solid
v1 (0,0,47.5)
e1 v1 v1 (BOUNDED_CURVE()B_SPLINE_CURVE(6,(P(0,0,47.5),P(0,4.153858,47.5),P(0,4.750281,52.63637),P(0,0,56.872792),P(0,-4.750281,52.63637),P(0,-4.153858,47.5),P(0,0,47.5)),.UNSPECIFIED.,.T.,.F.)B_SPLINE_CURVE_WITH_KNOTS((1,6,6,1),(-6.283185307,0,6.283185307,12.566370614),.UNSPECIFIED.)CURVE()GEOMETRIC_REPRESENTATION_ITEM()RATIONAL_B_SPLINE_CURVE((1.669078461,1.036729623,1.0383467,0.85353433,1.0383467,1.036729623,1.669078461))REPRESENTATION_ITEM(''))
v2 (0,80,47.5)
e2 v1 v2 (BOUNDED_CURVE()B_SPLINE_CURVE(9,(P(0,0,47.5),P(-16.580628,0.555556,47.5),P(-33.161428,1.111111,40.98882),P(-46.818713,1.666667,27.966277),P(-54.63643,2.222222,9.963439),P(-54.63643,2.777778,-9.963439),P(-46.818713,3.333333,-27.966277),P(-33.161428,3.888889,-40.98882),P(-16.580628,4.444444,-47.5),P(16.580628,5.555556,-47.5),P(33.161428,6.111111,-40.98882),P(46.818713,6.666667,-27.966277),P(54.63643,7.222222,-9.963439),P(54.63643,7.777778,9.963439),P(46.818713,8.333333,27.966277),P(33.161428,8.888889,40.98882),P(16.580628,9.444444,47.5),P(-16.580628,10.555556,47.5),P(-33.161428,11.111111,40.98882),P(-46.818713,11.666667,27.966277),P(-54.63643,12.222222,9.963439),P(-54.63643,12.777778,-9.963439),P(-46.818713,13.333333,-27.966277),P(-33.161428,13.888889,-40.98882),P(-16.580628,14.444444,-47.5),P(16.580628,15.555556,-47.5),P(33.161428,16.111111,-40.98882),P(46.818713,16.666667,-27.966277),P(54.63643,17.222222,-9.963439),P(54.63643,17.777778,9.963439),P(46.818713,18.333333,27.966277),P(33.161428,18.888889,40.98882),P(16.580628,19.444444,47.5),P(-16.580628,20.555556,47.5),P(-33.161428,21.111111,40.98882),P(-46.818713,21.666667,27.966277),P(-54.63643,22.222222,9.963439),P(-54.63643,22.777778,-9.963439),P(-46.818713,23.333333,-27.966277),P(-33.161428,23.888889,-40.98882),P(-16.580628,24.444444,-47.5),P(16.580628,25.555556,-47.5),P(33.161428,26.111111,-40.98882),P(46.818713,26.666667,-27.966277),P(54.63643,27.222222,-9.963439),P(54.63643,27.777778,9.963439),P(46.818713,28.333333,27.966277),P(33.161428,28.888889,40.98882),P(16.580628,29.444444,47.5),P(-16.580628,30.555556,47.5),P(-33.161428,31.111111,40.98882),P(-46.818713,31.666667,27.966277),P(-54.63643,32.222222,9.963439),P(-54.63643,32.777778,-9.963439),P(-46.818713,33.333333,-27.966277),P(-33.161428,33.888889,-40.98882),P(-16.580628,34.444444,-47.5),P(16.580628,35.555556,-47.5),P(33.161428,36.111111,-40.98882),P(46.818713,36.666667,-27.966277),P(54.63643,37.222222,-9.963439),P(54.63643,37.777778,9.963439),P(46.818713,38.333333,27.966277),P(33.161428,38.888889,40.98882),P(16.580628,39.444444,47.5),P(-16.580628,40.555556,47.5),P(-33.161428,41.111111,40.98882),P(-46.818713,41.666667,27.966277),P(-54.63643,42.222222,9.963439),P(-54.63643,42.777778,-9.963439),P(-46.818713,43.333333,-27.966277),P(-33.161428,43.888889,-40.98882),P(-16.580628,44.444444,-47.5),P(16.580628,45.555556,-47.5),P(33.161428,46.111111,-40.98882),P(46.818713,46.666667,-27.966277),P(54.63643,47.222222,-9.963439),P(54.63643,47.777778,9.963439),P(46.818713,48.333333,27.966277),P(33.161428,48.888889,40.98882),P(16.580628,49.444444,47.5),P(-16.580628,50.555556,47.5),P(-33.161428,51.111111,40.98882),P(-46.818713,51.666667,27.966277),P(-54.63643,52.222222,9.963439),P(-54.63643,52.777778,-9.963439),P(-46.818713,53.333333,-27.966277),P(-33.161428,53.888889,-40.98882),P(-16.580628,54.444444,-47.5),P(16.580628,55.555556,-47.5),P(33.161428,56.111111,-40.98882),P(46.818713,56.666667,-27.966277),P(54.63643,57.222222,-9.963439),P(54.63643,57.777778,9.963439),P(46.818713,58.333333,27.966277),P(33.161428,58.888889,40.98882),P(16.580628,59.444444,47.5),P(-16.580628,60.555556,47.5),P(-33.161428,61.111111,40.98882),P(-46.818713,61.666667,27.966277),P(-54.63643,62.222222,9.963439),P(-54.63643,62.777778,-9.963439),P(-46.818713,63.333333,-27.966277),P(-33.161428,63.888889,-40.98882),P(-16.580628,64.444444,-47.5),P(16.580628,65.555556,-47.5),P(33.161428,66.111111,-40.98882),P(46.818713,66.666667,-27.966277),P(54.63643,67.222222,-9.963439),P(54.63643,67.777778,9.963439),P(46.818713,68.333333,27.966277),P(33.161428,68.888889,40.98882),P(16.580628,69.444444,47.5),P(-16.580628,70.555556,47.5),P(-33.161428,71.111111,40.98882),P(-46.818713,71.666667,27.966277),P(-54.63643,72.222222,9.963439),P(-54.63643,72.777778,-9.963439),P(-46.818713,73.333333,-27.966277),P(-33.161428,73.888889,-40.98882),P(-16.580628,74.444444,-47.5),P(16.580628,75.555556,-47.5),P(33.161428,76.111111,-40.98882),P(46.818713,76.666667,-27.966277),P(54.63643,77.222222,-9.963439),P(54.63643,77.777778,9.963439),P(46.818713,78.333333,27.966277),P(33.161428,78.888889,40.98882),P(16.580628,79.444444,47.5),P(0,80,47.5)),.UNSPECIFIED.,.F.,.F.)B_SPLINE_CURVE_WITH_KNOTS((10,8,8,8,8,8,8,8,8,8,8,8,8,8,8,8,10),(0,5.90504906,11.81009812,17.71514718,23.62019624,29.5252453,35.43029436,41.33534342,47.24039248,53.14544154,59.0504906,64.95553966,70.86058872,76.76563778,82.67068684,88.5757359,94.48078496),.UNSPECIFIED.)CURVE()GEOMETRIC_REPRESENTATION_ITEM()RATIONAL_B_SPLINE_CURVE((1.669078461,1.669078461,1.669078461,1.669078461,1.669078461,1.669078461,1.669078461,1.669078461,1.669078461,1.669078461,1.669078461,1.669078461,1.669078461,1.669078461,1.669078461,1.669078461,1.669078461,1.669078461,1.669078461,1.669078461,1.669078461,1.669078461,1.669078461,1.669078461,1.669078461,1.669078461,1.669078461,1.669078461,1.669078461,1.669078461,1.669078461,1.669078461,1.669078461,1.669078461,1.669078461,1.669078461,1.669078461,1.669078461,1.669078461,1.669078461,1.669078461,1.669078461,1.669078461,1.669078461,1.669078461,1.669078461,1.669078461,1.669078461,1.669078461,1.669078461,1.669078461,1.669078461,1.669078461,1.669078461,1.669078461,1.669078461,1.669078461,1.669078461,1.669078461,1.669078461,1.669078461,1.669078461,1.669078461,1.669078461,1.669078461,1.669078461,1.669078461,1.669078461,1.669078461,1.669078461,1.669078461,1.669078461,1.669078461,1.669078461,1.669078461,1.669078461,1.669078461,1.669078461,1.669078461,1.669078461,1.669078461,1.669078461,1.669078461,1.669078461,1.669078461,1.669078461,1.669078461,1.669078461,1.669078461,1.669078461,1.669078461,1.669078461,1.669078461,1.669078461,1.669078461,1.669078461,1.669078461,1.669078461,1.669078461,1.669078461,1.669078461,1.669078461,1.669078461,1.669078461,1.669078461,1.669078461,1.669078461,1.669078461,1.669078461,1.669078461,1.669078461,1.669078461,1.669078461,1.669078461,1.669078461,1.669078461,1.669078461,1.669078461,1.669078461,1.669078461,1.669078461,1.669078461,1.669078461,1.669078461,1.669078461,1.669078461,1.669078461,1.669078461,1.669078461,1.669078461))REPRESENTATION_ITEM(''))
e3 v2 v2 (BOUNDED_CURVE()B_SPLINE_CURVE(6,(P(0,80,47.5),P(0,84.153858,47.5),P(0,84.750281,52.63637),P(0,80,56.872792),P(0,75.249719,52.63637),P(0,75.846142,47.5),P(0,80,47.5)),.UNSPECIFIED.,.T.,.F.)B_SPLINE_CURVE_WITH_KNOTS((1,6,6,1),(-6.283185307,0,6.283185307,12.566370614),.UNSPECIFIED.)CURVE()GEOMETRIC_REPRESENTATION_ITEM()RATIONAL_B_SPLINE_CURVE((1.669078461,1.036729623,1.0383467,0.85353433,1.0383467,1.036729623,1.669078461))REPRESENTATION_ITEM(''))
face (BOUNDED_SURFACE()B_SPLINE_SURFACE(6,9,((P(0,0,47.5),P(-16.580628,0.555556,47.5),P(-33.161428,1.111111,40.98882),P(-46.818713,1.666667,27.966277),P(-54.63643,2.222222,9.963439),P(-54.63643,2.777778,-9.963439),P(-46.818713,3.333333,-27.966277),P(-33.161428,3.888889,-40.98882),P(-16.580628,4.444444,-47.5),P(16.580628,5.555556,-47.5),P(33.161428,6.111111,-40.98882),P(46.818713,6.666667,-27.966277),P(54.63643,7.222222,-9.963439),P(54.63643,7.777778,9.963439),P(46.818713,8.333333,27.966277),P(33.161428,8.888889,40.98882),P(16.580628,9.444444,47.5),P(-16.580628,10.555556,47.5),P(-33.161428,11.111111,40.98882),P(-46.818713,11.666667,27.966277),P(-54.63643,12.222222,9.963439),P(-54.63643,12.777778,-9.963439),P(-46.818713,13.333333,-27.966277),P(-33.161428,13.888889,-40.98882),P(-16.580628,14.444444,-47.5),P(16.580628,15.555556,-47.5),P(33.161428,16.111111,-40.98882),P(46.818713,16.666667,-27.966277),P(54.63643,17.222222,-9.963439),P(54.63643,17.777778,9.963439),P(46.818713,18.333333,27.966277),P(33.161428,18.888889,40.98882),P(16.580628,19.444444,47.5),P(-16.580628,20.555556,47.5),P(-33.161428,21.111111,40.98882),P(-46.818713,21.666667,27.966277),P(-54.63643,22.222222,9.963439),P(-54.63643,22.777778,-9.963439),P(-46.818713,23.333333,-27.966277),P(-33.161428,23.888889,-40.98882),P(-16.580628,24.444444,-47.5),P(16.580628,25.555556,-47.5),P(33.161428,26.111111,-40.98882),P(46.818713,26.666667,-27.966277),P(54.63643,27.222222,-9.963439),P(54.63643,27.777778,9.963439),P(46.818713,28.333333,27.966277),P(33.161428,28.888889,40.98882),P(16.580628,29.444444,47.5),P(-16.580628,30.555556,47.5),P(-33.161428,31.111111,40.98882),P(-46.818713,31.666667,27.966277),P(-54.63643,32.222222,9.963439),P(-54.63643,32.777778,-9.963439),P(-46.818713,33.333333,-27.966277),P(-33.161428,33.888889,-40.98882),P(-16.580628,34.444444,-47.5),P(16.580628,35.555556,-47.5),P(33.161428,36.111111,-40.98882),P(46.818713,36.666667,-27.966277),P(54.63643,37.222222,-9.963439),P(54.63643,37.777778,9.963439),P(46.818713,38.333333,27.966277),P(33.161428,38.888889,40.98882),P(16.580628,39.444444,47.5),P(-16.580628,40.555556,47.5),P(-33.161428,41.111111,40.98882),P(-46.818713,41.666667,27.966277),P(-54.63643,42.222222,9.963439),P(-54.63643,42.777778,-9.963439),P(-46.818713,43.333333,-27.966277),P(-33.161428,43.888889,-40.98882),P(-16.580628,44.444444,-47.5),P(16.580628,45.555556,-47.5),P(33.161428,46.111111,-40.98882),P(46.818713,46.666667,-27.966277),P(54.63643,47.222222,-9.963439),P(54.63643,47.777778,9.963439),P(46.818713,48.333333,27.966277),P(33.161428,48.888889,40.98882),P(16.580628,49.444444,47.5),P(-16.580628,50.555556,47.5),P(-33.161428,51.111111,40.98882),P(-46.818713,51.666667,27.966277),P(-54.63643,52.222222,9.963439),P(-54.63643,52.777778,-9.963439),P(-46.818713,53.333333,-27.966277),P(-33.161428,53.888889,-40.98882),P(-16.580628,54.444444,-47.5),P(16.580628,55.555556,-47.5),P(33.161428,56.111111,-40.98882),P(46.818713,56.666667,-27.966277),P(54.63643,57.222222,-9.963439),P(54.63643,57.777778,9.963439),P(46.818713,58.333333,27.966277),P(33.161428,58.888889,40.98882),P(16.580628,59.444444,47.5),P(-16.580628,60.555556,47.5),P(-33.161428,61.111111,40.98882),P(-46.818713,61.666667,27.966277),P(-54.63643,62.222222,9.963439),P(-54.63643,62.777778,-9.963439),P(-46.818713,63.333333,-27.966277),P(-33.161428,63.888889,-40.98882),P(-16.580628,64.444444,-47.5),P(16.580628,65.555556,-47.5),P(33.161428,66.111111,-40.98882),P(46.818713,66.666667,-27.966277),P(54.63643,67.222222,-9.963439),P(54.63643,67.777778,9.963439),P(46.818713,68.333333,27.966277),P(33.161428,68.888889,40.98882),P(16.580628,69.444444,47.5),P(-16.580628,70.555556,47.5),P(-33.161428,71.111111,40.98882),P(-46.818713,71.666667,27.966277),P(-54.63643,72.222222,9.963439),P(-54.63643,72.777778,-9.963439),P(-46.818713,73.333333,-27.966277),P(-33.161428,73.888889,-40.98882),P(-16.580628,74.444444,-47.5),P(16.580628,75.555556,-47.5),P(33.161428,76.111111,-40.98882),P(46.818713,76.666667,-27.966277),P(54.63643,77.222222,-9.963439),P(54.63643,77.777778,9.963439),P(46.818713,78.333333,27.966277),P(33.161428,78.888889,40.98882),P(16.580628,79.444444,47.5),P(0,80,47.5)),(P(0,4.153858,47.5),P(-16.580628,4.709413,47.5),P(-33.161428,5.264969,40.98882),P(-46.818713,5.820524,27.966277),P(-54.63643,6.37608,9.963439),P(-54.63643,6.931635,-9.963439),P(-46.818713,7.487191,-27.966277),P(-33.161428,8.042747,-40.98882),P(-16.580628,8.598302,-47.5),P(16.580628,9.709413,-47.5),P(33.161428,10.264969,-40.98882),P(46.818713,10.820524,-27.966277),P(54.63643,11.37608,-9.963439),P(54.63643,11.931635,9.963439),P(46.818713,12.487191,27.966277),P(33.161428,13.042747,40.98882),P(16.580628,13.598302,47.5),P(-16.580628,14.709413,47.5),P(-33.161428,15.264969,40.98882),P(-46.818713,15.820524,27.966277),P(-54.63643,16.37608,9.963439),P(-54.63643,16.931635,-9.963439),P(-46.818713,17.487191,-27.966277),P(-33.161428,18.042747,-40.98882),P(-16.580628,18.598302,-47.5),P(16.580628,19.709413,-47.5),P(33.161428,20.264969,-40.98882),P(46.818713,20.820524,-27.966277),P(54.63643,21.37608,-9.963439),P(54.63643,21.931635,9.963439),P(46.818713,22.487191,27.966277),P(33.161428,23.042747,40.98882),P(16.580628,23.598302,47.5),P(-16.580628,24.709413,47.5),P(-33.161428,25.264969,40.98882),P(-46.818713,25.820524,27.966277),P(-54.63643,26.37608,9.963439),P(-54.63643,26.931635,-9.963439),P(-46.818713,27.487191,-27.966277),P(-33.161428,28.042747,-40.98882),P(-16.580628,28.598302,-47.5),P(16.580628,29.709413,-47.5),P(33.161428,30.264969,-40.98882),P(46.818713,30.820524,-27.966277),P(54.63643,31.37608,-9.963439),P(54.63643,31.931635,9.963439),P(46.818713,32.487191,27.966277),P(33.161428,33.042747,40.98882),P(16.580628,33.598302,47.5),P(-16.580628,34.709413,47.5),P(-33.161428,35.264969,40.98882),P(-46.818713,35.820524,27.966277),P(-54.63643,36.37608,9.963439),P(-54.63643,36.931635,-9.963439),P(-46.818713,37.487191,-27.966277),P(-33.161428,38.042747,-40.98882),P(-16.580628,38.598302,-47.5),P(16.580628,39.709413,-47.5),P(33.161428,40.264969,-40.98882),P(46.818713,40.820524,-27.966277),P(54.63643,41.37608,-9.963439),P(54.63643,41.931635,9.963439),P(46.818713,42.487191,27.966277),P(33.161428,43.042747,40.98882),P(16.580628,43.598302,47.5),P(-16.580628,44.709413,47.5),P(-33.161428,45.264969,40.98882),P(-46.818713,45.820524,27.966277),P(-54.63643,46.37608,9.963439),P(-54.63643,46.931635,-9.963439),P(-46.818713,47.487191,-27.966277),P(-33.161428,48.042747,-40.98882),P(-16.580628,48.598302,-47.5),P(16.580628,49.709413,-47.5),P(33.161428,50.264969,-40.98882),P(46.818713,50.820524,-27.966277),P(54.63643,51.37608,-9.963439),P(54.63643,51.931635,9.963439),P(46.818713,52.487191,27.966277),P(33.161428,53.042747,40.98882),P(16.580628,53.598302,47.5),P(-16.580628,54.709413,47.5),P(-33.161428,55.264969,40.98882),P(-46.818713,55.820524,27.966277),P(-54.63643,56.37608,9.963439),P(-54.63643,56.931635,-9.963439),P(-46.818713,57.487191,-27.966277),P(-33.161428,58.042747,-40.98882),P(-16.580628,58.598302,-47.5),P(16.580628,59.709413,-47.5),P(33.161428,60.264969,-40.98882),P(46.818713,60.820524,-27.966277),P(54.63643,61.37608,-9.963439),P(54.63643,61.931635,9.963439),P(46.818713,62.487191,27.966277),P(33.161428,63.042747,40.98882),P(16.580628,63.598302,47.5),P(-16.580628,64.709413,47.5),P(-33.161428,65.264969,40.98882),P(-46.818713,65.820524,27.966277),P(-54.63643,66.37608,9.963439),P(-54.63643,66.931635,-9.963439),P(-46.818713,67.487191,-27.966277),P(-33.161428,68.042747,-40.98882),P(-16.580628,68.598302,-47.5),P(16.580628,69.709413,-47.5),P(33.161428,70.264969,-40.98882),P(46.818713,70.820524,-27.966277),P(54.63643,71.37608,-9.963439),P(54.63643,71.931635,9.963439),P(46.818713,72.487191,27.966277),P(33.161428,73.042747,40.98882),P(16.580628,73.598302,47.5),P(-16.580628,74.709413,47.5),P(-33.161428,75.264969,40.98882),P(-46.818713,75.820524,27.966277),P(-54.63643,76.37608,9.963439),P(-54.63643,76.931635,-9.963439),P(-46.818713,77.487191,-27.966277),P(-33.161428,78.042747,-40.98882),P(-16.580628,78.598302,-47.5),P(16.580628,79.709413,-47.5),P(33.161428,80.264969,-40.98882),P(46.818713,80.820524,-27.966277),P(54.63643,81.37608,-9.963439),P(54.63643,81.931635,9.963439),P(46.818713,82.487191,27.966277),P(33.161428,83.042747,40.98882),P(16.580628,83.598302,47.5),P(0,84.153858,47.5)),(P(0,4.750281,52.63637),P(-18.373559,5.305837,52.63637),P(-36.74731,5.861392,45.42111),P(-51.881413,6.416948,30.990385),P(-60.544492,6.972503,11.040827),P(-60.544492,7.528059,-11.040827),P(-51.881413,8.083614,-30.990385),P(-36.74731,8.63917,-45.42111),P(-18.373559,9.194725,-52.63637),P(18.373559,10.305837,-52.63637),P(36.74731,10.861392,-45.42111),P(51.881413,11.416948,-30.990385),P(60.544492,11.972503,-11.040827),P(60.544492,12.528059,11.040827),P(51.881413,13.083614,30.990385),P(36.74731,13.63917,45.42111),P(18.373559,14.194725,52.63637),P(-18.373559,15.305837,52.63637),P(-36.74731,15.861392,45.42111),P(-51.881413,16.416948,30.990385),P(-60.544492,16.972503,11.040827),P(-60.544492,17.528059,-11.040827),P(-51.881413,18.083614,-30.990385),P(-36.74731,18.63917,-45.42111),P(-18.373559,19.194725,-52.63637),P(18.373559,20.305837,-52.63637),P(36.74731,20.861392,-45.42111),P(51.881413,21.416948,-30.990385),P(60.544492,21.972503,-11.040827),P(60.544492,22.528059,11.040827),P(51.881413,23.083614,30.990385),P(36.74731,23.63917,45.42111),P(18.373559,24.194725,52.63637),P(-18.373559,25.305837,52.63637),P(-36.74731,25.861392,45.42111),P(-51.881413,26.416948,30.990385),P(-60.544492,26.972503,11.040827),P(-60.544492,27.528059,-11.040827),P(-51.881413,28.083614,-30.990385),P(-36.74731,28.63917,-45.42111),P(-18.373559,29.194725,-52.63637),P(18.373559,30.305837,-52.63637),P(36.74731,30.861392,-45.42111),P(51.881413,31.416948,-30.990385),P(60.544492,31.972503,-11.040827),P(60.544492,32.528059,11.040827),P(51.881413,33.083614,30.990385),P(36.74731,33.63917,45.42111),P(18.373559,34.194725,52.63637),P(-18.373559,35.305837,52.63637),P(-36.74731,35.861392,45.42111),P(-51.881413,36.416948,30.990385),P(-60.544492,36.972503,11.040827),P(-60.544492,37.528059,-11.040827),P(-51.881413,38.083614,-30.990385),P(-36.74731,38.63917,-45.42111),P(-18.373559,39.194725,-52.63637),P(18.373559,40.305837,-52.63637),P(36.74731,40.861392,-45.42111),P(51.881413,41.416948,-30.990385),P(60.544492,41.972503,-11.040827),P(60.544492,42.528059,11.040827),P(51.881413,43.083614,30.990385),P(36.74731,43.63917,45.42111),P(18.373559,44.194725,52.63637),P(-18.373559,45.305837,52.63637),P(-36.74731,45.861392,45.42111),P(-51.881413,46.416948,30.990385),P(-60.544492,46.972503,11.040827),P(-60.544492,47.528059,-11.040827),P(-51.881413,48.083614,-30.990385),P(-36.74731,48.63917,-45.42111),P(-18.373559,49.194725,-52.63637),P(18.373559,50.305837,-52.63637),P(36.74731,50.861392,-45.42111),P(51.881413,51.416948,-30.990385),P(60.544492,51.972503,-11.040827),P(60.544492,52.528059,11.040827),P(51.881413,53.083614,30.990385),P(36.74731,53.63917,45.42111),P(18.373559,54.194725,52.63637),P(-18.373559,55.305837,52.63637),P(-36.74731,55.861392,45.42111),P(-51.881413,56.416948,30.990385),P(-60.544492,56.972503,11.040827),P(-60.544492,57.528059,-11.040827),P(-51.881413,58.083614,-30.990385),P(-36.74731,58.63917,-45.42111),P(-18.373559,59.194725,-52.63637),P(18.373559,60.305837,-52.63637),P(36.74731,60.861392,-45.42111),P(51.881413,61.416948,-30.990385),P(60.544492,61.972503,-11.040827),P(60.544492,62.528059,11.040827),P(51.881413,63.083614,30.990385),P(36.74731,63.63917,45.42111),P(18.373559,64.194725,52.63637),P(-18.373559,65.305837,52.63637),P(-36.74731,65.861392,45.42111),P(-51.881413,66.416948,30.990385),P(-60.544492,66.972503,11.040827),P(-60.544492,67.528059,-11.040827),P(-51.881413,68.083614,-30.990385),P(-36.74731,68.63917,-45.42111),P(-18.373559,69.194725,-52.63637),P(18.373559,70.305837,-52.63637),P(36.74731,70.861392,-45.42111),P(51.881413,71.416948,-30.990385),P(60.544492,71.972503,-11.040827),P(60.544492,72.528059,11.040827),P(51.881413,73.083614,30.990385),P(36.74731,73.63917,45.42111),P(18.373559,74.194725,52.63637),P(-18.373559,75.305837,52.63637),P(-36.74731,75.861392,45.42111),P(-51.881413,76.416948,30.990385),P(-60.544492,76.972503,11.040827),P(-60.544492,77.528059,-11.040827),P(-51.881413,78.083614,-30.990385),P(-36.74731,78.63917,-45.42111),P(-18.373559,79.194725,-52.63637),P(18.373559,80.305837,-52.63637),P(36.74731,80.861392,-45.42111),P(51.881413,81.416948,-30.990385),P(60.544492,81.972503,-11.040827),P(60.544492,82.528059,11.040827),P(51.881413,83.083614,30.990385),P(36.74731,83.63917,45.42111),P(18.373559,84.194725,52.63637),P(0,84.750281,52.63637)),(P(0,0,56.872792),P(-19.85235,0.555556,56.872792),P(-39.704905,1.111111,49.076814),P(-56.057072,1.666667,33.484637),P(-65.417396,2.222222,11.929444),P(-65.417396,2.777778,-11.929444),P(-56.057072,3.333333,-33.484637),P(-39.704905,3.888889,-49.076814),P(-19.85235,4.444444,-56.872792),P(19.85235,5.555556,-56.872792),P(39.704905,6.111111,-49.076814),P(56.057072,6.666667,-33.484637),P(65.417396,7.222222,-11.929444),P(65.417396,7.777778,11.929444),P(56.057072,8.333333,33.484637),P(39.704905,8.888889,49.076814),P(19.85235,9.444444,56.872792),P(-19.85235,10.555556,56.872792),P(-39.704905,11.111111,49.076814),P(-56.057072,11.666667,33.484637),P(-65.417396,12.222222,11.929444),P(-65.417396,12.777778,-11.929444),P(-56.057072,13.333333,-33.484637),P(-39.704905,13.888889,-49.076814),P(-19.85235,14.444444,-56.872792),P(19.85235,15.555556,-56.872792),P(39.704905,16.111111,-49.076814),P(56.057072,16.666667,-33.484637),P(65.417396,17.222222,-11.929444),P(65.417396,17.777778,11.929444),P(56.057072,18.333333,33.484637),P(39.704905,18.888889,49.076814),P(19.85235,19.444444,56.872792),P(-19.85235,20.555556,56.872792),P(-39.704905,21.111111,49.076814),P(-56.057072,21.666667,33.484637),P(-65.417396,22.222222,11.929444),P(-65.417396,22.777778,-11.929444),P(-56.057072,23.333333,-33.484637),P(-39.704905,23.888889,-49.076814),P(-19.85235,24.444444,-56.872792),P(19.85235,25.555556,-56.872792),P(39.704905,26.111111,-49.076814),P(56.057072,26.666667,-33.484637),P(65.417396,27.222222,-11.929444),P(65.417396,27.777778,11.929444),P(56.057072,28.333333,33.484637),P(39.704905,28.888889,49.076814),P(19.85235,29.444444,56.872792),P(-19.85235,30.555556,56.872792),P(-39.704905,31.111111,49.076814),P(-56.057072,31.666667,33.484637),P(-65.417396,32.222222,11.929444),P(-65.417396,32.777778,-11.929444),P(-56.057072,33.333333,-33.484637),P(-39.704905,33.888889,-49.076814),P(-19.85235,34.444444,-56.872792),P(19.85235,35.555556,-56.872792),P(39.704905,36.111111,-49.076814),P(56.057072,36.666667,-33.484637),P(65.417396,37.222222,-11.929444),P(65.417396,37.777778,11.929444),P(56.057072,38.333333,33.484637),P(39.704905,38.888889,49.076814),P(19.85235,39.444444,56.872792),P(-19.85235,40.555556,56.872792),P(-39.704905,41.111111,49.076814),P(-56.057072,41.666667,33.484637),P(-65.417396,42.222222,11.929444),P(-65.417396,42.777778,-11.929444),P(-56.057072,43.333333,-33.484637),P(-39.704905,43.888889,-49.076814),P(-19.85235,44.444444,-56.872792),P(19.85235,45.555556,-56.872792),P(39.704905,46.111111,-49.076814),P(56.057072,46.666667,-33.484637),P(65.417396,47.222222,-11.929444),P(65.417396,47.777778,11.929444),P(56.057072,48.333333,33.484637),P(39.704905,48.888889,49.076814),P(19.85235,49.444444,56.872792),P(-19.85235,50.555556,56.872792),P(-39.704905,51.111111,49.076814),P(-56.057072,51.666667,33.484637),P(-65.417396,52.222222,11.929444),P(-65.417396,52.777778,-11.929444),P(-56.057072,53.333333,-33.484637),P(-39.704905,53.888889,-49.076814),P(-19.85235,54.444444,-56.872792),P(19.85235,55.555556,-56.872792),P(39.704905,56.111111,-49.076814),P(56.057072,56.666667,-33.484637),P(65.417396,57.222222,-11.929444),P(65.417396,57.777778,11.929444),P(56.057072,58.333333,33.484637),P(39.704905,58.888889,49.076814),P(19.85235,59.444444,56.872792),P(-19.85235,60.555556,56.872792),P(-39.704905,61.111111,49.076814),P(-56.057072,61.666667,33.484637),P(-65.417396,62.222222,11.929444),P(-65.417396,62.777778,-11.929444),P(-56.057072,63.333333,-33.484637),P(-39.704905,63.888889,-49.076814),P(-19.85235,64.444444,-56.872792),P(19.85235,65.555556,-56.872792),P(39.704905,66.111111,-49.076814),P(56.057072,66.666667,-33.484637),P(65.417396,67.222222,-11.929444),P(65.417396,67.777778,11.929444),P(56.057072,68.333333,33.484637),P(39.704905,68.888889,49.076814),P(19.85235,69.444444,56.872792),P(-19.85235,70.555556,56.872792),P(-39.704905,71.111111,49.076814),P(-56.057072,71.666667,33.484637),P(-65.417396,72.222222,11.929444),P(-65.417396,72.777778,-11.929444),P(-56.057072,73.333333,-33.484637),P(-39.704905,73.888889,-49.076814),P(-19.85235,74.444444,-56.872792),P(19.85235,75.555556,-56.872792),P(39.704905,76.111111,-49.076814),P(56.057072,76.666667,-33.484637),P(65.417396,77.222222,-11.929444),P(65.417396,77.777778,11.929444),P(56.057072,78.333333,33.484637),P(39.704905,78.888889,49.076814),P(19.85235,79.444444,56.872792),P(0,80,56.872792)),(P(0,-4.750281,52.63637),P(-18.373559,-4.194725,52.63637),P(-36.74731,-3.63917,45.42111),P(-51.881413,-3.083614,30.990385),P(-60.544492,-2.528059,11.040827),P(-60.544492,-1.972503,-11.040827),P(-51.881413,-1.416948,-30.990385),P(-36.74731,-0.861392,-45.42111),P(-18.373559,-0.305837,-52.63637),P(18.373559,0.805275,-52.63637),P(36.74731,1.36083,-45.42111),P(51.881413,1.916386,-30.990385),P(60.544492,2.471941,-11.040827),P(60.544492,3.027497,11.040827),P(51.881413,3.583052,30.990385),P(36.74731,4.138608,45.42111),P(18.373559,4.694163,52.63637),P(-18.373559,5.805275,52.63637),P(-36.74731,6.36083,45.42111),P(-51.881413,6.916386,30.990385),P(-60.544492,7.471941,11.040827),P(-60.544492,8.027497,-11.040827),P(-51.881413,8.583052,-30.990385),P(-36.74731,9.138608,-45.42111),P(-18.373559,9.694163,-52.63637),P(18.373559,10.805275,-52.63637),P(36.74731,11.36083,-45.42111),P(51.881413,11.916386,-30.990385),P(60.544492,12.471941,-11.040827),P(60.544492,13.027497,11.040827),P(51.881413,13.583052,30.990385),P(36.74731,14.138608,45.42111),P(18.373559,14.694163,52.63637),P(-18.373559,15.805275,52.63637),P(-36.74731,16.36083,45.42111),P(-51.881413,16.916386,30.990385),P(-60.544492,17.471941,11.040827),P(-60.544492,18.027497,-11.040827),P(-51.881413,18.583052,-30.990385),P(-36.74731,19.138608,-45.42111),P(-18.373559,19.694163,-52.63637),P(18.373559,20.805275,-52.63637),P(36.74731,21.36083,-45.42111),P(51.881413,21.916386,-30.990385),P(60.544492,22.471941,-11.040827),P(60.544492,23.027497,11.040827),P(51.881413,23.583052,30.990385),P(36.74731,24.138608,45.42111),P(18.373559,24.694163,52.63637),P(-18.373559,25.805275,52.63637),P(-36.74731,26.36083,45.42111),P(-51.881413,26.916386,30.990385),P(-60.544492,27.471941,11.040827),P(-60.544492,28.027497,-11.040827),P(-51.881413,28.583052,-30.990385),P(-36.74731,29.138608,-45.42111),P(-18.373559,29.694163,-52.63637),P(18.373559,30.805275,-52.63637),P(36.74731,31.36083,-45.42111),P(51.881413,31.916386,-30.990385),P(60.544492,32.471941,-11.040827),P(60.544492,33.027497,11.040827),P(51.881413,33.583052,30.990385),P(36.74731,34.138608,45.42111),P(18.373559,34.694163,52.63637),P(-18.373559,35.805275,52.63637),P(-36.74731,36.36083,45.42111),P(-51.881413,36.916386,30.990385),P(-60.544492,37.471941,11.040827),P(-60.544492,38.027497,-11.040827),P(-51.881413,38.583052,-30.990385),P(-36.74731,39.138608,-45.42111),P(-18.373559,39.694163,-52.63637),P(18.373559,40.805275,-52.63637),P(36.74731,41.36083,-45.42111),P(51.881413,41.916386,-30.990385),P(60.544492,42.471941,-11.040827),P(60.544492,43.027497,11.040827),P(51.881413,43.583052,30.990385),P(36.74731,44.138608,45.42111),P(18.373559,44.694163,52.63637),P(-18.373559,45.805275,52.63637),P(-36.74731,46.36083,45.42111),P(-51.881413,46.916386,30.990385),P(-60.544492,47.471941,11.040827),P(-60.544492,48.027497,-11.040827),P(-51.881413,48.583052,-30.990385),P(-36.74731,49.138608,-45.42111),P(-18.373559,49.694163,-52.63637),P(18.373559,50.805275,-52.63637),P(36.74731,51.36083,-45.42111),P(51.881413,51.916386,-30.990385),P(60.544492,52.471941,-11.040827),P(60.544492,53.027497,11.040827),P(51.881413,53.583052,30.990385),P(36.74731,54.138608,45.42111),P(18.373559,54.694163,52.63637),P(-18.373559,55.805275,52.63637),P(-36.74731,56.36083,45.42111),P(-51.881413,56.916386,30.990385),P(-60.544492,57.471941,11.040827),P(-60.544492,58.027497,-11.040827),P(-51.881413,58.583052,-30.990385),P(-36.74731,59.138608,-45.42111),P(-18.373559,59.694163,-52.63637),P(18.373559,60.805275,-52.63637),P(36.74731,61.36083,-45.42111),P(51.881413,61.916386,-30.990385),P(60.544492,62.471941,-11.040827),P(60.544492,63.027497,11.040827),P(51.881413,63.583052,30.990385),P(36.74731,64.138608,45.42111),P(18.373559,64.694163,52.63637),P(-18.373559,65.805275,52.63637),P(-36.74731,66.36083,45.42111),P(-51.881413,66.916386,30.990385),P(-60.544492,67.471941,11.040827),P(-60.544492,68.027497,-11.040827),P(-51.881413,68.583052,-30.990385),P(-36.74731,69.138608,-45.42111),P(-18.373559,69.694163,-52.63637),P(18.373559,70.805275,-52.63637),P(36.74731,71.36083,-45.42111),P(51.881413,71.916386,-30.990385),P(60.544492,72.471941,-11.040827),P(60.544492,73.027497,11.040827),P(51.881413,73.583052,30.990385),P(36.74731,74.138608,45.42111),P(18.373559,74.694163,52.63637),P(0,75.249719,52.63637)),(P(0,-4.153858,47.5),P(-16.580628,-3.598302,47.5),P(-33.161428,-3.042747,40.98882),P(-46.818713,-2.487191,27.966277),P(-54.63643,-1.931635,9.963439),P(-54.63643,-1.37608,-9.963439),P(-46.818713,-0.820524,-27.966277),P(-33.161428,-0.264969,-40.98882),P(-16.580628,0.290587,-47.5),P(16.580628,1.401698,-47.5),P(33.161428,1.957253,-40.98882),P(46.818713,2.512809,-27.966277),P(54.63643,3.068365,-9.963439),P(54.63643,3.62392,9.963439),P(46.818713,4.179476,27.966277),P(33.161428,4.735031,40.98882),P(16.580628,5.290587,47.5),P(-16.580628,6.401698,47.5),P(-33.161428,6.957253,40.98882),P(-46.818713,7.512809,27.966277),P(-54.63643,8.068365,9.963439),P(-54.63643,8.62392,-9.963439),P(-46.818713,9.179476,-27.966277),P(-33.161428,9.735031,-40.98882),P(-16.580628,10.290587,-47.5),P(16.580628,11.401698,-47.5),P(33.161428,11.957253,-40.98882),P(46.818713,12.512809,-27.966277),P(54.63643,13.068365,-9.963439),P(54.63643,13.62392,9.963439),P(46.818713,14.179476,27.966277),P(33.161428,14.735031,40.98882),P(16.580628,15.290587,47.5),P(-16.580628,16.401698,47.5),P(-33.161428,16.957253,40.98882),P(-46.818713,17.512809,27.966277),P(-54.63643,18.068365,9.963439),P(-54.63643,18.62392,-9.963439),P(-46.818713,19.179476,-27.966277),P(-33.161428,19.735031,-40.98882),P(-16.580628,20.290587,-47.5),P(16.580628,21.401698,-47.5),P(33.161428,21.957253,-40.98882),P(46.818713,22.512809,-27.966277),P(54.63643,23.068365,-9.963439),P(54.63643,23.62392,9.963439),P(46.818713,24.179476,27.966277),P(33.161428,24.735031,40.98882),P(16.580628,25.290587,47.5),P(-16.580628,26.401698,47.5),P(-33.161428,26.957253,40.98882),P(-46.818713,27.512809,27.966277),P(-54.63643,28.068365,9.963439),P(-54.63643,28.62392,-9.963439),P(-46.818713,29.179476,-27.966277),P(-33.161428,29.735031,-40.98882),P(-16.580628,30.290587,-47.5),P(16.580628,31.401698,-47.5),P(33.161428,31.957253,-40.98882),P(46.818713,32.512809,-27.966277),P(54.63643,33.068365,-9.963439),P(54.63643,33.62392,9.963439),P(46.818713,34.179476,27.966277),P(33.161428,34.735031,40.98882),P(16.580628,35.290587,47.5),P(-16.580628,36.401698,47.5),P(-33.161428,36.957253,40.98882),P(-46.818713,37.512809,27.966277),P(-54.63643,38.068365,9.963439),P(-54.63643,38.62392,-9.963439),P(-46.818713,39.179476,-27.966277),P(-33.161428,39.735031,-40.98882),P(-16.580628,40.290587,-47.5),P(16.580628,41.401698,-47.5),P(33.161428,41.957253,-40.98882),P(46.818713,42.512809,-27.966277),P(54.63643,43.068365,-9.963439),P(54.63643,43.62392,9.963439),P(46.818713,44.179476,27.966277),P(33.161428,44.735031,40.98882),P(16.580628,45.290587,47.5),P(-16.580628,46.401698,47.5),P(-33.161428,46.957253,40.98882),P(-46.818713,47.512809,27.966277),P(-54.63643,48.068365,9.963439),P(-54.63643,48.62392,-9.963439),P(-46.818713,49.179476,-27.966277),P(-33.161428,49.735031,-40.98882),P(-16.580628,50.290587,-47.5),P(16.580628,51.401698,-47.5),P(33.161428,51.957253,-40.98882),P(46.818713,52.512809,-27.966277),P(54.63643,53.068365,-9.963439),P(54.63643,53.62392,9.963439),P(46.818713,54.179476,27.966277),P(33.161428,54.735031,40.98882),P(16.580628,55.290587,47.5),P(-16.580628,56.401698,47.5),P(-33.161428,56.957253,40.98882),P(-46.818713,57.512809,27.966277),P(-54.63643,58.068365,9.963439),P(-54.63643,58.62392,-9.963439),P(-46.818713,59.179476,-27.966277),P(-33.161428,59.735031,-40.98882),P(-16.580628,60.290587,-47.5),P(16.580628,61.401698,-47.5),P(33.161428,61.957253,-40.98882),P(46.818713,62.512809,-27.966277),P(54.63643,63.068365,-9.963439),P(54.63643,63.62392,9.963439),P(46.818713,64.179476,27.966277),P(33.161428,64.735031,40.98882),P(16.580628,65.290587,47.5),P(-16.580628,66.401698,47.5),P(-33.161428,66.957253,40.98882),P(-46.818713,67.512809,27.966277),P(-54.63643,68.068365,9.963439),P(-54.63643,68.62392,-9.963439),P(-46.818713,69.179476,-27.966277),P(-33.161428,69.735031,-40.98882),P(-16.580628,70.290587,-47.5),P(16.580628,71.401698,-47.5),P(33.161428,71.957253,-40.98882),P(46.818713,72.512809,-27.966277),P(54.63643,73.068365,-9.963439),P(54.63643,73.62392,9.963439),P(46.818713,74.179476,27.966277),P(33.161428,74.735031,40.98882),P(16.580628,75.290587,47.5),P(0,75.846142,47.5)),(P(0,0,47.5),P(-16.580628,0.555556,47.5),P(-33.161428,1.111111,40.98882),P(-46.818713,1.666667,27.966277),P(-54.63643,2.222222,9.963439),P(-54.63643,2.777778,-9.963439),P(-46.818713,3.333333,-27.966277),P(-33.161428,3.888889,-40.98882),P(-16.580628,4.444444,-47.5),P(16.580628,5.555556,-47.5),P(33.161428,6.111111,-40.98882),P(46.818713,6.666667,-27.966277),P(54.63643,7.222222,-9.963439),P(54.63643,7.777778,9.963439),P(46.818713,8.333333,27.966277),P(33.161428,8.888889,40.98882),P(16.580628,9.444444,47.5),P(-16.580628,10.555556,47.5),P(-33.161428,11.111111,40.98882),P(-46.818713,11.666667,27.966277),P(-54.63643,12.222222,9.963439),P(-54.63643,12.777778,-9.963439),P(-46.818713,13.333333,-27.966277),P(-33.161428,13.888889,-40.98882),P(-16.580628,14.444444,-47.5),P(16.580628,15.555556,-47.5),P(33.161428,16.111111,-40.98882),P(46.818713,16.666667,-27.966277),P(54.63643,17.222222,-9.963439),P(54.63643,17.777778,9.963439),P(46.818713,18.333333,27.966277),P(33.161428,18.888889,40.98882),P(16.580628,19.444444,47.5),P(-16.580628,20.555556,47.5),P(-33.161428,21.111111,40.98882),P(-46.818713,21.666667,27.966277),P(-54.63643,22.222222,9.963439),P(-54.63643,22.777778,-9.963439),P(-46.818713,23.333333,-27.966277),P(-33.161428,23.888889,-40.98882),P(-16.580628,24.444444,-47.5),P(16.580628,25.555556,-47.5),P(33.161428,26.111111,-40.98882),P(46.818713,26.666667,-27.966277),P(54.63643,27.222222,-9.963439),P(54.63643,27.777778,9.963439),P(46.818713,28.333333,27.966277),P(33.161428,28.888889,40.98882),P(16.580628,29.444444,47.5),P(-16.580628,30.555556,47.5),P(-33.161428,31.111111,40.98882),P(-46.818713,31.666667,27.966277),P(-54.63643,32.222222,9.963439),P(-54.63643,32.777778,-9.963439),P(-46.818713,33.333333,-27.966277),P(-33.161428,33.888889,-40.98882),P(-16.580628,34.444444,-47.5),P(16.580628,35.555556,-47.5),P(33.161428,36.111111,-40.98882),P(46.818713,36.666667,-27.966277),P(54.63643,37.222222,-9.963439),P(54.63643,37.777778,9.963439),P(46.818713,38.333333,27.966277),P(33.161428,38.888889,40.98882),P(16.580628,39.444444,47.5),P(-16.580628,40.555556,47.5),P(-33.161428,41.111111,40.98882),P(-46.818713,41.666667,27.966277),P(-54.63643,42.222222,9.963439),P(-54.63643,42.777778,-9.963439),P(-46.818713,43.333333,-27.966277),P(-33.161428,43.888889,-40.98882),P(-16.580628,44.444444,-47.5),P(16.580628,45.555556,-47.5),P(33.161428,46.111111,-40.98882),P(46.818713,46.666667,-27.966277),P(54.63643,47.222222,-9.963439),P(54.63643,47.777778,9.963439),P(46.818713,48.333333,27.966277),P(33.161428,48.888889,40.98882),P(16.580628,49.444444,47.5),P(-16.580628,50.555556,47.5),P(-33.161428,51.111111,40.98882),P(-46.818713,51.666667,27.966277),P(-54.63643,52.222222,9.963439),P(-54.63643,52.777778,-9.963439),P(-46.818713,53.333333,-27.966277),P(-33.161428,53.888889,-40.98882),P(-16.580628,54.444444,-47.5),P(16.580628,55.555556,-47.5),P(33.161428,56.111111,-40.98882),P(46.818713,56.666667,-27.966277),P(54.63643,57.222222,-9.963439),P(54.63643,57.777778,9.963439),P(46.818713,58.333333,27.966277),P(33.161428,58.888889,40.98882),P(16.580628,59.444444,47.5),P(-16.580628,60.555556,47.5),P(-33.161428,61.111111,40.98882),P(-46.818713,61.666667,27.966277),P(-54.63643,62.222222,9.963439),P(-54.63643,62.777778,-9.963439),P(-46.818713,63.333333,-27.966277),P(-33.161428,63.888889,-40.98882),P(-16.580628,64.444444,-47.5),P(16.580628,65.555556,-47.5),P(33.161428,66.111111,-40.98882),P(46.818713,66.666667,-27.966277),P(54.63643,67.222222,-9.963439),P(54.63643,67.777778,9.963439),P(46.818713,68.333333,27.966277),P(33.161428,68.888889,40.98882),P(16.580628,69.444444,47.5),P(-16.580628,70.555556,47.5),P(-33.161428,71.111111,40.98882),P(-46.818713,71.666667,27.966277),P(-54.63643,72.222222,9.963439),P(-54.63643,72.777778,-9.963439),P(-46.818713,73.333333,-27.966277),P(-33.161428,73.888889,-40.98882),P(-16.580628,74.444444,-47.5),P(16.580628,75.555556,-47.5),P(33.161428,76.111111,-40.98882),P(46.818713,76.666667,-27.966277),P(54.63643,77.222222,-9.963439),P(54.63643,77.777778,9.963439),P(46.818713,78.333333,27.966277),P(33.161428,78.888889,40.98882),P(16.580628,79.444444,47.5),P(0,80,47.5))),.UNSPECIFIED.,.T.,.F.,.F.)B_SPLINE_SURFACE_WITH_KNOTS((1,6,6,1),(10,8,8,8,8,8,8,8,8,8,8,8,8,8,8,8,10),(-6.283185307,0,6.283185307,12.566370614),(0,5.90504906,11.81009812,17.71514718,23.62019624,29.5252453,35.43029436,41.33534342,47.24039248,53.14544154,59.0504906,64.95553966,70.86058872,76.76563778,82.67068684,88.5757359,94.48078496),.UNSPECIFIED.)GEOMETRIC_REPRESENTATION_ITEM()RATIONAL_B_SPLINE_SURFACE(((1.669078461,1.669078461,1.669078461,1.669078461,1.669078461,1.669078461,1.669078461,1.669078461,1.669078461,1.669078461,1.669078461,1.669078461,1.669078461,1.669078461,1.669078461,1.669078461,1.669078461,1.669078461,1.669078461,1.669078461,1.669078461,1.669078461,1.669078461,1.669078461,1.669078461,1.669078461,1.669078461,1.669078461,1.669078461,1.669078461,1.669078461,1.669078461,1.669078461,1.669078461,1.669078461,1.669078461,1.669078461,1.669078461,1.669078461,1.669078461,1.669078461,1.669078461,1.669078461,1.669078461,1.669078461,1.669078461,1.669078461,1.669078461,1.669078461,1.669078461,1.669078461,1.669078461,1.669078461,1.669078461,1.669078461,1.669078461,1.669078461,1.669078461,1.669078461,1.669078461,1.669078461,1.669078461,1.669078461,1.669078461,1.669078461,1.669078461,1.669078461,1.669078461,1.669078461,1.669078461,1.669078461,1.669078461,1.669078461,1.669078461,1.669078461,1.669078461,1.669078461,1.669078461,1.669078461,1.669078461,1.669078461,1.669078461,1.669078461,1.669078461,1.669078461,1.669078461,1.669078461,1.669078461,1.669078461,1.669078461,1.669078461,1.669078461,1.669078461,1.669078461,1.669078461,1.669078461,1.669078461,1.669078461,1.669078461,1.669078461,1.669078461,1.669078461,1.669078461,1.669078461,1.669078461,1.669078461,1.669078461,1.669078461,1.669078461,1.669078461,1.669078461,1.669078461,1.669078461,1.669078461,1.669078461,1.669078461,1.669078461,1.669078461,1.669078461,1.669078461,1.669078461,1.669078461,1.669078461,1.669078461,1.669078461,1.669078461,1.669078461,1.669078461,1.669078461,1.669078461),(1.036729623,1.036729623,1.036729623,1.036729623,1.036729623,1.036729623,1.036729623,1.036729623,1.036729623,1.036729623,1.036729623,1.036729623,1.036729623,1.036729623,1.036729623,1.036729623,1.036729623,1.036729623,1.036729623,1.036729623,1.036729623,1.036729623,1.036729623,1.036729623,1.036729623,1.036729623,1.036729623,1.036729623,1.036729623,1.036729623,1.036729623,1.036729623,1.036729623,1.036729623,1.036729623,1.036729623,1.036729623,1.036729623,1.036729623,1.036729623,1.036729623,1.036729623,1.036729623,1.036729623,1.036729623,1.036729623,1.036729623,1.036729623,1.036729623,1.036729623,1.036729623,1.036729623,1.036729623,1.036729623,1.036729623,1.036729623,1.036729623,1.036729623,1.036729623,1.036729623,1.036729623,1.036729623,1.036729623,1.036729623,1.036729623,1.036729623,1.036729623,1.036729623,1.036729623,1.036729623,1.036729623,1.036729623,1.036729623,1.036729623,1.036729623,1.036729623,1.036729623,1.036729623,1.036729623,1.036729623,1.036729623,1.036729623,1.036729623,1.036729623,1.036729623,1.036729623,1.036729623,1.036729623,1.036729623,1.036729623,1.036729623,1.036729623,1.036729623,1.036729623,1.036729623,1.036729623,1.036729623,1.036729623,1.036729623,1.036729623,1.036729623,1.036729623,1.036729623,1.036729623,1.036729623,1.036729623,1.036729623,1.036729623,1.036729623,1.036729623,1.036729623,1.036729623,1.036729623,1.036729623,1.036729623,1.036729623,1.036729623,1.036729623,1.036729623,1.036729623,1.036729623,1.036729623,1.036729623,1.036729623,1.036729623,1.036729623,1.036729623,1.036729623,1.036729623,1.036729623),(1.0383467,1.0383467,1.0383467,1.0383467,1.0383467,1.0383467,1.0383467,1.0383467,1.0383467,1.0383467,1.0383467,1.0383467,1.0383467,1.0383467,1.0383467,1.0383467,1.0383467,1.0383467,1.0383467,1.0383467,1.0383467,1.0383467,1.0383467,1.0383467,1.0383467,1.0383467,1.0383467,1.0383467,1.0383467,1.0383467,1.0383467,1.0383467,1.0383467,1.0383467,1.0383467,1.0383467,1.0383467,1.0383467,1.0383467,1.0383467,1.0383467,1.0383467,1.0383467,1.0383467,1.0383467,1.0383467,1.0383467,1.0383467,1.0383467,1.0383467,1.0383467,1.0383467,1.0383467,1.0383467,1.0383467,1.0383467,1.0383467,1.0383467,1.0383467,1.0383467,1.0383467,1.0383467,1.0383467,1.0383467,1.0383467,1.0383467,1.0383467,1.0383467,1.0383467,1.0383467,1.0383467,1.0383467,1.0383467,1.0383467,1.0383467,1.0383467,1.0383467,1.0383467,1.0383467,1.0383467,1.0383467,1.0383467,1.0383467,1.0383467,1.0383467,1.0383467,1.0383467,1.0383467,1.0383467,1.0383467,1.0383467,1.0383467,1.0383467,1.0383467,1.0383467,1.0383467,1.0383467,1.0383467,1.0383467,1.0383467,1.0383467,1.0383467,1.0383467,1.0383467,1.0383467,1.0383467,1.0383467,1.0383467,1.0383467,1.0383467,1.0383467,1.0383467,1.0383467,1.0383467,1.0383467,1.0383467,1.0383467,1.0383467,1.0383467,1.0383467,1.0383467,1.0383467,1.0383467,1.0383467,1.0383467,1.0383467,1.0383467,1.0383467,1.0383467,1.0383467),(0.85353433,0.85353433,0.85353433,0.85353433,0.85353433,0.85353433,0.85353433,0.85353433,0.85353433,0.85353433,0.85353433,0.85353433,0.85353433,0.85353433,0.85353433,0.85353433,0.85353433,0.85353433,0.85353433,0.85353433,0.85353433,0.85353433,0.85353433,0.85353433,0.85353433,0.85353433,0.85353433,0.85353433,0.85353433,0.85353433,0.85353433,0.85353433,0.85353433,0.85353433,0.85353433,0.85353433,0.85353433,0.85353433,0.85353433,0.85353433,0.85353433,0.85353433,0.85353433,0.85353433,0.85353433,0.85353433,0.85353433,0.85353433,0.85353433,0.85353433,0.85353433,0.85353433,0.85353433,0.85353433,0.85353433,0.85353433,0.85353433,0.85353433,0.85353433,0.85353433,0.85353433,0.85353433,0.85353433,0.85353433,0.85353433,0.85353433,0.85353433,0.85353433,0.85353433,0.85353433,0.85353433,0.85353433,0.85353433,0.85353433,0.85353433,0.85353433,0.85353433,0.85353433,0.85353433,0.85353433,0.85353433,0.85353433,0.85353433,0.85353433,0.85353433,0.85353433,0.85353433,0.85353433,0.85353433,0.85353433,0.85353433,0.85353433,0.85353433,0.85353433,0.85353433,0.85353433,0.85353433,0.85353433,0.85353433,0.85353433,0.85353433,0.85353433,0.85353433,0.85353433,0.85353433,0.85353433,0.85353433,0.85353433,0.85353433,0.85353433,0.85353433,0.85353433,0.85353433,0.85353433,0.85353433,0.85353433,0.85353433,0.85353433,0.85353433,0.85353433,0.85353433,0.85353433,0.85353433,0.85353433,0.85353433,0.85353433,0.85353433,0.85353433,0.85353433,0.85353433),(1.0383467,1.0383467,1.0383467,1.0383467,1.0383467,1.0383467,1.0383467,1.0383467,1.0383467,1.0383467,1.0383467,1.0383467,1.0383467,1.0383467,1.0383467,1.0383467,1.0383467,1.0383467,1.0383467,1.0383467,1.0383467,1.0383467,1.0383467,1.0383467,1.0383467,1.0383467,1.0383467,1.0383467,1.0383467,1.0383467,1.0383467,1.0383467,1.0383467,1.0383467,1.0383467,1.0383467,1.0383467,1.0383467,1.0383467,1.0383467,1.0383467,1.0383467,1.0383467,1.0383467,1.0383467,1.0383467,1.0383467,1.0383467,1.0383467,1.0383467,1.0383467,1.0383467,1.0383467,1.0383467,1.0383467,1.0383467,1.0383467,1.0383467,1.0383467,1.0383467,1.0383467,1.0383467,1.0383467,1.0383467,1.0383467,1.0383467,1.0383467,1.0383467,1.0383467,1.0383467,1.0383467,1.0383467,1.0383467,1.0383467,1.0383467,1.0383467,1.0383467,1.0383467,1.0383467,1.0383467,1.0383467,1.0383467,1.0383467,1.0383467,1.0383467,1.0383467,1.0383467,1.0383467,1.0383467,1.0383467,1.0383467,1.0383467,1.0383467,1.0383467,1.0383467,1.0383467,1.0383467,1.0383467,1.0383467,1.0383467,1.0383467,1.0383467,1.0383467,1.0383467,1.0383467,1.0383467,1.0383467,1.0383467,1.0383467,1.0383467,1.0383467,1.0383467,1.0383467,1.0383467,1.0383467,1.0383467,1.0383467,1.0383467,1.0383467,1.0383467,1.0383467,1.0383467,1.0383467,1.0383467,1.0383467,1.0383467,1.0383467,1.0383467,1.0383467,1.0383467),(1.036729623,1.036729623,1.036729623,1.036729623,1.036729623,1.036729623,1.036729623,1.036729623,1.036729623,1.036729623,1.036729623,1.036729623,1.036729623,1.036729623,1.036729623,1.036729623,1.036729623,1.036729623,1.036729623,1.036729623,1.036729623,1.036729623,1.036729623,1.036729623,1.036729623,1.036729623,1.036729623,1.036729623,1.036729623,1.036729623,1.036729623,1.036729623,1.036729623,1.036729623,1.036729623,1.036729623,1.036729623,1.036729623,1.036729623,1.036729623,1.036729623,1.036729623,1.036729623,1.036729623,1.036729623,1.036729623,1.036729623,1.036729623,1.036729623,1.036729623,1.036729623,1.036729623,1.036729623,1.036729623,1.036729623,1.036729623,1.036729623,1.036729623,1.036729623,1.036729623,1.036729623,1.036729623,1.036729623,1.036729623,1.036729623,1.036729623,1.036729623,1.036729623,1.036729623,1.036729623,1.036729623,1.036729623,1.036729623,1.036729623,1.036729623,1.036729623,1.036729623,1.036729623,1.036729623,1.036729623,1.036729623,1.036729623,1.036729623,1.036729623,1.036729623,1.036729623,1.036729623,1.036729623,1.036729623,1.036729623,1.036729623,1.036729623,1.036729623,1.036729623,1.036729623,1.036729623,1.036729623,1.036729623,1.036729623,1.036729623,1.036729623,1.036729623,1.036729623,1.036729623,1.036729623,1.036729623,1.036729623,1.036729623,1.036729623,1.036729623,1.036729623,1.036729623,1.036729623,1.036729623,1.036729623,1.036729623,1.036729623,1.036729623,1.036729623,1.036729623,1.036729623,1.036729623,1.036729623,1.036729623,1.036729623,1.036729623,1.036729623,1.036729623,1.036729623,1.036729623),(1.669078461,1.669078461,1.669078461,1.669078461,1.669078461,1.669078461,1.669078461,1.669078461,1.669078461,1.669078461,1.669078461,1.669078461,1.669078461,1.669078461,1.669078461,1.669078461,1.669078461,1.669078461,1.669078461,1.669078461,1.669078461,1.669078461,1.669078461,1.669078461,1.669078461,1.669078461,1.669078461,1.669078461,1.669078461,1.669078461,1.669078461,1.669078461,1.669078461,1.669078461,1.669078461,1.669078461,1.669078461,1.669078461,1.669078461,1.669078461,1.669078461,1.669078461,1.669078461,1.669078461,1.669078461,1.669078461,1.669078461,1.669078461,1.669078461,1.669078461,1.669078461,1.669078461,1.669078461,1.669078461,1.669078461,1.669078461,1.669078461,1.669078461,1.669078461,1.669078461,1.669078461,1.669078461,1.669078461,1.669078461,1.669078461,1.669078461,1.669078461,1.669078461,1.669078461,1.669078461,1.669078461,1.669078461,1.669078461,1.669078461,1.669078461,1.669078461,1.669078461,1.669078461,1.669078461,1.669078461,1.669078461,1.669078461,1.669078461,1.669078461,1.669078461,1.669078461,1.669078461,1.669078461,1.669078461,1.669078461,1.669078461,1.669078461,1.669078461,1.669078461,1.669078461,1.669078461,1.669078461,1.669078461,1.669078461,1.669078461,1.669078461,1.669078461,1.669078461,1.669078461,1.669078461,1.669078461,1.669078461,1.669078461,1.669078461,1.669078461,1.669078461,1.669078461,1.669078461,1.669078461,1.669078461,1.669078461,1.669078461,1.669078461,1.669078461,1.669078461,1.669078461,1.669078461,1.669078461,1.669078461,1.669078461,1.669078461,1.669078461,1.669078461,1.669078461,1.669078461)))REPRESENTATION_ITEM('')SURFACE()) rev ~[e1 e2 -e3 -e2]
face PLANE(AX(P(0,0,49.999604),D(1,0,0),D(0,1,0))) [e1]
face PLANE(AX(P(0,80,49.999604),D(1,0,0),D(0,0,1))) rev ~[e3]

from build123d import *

# Parameters (mm, degrees)
SWEEP1_PITCH  = 10
SWEEP1_HEIGHT = 80
SWEEP1_RADIUS = 50
SKETCH3_R     = 2.5


with BuildPart() as part:
    # Sweep1: sweep along a helix
    with BuildLine() as sweep1_path:
        Helix(SWEEP1_PITCH, SWEEP1_HEIGHT, SWEEP1_RADIUS, center=(0, 0, 0), direction=(0, 1, 0), lefthand=True)
    # Sketch3 → Sweep1 (sweep)
    with BuildSketch(Plane(origin=(0, 0, 0), x_dir=(0, 0, -1), z_dir=(1, 0, 0))):
        with Locations((-50, 0)):
            Circle(SKETCH3_R)
    sweep(path=sweep1_path.line, is_frenet=True)


solid = part.part
